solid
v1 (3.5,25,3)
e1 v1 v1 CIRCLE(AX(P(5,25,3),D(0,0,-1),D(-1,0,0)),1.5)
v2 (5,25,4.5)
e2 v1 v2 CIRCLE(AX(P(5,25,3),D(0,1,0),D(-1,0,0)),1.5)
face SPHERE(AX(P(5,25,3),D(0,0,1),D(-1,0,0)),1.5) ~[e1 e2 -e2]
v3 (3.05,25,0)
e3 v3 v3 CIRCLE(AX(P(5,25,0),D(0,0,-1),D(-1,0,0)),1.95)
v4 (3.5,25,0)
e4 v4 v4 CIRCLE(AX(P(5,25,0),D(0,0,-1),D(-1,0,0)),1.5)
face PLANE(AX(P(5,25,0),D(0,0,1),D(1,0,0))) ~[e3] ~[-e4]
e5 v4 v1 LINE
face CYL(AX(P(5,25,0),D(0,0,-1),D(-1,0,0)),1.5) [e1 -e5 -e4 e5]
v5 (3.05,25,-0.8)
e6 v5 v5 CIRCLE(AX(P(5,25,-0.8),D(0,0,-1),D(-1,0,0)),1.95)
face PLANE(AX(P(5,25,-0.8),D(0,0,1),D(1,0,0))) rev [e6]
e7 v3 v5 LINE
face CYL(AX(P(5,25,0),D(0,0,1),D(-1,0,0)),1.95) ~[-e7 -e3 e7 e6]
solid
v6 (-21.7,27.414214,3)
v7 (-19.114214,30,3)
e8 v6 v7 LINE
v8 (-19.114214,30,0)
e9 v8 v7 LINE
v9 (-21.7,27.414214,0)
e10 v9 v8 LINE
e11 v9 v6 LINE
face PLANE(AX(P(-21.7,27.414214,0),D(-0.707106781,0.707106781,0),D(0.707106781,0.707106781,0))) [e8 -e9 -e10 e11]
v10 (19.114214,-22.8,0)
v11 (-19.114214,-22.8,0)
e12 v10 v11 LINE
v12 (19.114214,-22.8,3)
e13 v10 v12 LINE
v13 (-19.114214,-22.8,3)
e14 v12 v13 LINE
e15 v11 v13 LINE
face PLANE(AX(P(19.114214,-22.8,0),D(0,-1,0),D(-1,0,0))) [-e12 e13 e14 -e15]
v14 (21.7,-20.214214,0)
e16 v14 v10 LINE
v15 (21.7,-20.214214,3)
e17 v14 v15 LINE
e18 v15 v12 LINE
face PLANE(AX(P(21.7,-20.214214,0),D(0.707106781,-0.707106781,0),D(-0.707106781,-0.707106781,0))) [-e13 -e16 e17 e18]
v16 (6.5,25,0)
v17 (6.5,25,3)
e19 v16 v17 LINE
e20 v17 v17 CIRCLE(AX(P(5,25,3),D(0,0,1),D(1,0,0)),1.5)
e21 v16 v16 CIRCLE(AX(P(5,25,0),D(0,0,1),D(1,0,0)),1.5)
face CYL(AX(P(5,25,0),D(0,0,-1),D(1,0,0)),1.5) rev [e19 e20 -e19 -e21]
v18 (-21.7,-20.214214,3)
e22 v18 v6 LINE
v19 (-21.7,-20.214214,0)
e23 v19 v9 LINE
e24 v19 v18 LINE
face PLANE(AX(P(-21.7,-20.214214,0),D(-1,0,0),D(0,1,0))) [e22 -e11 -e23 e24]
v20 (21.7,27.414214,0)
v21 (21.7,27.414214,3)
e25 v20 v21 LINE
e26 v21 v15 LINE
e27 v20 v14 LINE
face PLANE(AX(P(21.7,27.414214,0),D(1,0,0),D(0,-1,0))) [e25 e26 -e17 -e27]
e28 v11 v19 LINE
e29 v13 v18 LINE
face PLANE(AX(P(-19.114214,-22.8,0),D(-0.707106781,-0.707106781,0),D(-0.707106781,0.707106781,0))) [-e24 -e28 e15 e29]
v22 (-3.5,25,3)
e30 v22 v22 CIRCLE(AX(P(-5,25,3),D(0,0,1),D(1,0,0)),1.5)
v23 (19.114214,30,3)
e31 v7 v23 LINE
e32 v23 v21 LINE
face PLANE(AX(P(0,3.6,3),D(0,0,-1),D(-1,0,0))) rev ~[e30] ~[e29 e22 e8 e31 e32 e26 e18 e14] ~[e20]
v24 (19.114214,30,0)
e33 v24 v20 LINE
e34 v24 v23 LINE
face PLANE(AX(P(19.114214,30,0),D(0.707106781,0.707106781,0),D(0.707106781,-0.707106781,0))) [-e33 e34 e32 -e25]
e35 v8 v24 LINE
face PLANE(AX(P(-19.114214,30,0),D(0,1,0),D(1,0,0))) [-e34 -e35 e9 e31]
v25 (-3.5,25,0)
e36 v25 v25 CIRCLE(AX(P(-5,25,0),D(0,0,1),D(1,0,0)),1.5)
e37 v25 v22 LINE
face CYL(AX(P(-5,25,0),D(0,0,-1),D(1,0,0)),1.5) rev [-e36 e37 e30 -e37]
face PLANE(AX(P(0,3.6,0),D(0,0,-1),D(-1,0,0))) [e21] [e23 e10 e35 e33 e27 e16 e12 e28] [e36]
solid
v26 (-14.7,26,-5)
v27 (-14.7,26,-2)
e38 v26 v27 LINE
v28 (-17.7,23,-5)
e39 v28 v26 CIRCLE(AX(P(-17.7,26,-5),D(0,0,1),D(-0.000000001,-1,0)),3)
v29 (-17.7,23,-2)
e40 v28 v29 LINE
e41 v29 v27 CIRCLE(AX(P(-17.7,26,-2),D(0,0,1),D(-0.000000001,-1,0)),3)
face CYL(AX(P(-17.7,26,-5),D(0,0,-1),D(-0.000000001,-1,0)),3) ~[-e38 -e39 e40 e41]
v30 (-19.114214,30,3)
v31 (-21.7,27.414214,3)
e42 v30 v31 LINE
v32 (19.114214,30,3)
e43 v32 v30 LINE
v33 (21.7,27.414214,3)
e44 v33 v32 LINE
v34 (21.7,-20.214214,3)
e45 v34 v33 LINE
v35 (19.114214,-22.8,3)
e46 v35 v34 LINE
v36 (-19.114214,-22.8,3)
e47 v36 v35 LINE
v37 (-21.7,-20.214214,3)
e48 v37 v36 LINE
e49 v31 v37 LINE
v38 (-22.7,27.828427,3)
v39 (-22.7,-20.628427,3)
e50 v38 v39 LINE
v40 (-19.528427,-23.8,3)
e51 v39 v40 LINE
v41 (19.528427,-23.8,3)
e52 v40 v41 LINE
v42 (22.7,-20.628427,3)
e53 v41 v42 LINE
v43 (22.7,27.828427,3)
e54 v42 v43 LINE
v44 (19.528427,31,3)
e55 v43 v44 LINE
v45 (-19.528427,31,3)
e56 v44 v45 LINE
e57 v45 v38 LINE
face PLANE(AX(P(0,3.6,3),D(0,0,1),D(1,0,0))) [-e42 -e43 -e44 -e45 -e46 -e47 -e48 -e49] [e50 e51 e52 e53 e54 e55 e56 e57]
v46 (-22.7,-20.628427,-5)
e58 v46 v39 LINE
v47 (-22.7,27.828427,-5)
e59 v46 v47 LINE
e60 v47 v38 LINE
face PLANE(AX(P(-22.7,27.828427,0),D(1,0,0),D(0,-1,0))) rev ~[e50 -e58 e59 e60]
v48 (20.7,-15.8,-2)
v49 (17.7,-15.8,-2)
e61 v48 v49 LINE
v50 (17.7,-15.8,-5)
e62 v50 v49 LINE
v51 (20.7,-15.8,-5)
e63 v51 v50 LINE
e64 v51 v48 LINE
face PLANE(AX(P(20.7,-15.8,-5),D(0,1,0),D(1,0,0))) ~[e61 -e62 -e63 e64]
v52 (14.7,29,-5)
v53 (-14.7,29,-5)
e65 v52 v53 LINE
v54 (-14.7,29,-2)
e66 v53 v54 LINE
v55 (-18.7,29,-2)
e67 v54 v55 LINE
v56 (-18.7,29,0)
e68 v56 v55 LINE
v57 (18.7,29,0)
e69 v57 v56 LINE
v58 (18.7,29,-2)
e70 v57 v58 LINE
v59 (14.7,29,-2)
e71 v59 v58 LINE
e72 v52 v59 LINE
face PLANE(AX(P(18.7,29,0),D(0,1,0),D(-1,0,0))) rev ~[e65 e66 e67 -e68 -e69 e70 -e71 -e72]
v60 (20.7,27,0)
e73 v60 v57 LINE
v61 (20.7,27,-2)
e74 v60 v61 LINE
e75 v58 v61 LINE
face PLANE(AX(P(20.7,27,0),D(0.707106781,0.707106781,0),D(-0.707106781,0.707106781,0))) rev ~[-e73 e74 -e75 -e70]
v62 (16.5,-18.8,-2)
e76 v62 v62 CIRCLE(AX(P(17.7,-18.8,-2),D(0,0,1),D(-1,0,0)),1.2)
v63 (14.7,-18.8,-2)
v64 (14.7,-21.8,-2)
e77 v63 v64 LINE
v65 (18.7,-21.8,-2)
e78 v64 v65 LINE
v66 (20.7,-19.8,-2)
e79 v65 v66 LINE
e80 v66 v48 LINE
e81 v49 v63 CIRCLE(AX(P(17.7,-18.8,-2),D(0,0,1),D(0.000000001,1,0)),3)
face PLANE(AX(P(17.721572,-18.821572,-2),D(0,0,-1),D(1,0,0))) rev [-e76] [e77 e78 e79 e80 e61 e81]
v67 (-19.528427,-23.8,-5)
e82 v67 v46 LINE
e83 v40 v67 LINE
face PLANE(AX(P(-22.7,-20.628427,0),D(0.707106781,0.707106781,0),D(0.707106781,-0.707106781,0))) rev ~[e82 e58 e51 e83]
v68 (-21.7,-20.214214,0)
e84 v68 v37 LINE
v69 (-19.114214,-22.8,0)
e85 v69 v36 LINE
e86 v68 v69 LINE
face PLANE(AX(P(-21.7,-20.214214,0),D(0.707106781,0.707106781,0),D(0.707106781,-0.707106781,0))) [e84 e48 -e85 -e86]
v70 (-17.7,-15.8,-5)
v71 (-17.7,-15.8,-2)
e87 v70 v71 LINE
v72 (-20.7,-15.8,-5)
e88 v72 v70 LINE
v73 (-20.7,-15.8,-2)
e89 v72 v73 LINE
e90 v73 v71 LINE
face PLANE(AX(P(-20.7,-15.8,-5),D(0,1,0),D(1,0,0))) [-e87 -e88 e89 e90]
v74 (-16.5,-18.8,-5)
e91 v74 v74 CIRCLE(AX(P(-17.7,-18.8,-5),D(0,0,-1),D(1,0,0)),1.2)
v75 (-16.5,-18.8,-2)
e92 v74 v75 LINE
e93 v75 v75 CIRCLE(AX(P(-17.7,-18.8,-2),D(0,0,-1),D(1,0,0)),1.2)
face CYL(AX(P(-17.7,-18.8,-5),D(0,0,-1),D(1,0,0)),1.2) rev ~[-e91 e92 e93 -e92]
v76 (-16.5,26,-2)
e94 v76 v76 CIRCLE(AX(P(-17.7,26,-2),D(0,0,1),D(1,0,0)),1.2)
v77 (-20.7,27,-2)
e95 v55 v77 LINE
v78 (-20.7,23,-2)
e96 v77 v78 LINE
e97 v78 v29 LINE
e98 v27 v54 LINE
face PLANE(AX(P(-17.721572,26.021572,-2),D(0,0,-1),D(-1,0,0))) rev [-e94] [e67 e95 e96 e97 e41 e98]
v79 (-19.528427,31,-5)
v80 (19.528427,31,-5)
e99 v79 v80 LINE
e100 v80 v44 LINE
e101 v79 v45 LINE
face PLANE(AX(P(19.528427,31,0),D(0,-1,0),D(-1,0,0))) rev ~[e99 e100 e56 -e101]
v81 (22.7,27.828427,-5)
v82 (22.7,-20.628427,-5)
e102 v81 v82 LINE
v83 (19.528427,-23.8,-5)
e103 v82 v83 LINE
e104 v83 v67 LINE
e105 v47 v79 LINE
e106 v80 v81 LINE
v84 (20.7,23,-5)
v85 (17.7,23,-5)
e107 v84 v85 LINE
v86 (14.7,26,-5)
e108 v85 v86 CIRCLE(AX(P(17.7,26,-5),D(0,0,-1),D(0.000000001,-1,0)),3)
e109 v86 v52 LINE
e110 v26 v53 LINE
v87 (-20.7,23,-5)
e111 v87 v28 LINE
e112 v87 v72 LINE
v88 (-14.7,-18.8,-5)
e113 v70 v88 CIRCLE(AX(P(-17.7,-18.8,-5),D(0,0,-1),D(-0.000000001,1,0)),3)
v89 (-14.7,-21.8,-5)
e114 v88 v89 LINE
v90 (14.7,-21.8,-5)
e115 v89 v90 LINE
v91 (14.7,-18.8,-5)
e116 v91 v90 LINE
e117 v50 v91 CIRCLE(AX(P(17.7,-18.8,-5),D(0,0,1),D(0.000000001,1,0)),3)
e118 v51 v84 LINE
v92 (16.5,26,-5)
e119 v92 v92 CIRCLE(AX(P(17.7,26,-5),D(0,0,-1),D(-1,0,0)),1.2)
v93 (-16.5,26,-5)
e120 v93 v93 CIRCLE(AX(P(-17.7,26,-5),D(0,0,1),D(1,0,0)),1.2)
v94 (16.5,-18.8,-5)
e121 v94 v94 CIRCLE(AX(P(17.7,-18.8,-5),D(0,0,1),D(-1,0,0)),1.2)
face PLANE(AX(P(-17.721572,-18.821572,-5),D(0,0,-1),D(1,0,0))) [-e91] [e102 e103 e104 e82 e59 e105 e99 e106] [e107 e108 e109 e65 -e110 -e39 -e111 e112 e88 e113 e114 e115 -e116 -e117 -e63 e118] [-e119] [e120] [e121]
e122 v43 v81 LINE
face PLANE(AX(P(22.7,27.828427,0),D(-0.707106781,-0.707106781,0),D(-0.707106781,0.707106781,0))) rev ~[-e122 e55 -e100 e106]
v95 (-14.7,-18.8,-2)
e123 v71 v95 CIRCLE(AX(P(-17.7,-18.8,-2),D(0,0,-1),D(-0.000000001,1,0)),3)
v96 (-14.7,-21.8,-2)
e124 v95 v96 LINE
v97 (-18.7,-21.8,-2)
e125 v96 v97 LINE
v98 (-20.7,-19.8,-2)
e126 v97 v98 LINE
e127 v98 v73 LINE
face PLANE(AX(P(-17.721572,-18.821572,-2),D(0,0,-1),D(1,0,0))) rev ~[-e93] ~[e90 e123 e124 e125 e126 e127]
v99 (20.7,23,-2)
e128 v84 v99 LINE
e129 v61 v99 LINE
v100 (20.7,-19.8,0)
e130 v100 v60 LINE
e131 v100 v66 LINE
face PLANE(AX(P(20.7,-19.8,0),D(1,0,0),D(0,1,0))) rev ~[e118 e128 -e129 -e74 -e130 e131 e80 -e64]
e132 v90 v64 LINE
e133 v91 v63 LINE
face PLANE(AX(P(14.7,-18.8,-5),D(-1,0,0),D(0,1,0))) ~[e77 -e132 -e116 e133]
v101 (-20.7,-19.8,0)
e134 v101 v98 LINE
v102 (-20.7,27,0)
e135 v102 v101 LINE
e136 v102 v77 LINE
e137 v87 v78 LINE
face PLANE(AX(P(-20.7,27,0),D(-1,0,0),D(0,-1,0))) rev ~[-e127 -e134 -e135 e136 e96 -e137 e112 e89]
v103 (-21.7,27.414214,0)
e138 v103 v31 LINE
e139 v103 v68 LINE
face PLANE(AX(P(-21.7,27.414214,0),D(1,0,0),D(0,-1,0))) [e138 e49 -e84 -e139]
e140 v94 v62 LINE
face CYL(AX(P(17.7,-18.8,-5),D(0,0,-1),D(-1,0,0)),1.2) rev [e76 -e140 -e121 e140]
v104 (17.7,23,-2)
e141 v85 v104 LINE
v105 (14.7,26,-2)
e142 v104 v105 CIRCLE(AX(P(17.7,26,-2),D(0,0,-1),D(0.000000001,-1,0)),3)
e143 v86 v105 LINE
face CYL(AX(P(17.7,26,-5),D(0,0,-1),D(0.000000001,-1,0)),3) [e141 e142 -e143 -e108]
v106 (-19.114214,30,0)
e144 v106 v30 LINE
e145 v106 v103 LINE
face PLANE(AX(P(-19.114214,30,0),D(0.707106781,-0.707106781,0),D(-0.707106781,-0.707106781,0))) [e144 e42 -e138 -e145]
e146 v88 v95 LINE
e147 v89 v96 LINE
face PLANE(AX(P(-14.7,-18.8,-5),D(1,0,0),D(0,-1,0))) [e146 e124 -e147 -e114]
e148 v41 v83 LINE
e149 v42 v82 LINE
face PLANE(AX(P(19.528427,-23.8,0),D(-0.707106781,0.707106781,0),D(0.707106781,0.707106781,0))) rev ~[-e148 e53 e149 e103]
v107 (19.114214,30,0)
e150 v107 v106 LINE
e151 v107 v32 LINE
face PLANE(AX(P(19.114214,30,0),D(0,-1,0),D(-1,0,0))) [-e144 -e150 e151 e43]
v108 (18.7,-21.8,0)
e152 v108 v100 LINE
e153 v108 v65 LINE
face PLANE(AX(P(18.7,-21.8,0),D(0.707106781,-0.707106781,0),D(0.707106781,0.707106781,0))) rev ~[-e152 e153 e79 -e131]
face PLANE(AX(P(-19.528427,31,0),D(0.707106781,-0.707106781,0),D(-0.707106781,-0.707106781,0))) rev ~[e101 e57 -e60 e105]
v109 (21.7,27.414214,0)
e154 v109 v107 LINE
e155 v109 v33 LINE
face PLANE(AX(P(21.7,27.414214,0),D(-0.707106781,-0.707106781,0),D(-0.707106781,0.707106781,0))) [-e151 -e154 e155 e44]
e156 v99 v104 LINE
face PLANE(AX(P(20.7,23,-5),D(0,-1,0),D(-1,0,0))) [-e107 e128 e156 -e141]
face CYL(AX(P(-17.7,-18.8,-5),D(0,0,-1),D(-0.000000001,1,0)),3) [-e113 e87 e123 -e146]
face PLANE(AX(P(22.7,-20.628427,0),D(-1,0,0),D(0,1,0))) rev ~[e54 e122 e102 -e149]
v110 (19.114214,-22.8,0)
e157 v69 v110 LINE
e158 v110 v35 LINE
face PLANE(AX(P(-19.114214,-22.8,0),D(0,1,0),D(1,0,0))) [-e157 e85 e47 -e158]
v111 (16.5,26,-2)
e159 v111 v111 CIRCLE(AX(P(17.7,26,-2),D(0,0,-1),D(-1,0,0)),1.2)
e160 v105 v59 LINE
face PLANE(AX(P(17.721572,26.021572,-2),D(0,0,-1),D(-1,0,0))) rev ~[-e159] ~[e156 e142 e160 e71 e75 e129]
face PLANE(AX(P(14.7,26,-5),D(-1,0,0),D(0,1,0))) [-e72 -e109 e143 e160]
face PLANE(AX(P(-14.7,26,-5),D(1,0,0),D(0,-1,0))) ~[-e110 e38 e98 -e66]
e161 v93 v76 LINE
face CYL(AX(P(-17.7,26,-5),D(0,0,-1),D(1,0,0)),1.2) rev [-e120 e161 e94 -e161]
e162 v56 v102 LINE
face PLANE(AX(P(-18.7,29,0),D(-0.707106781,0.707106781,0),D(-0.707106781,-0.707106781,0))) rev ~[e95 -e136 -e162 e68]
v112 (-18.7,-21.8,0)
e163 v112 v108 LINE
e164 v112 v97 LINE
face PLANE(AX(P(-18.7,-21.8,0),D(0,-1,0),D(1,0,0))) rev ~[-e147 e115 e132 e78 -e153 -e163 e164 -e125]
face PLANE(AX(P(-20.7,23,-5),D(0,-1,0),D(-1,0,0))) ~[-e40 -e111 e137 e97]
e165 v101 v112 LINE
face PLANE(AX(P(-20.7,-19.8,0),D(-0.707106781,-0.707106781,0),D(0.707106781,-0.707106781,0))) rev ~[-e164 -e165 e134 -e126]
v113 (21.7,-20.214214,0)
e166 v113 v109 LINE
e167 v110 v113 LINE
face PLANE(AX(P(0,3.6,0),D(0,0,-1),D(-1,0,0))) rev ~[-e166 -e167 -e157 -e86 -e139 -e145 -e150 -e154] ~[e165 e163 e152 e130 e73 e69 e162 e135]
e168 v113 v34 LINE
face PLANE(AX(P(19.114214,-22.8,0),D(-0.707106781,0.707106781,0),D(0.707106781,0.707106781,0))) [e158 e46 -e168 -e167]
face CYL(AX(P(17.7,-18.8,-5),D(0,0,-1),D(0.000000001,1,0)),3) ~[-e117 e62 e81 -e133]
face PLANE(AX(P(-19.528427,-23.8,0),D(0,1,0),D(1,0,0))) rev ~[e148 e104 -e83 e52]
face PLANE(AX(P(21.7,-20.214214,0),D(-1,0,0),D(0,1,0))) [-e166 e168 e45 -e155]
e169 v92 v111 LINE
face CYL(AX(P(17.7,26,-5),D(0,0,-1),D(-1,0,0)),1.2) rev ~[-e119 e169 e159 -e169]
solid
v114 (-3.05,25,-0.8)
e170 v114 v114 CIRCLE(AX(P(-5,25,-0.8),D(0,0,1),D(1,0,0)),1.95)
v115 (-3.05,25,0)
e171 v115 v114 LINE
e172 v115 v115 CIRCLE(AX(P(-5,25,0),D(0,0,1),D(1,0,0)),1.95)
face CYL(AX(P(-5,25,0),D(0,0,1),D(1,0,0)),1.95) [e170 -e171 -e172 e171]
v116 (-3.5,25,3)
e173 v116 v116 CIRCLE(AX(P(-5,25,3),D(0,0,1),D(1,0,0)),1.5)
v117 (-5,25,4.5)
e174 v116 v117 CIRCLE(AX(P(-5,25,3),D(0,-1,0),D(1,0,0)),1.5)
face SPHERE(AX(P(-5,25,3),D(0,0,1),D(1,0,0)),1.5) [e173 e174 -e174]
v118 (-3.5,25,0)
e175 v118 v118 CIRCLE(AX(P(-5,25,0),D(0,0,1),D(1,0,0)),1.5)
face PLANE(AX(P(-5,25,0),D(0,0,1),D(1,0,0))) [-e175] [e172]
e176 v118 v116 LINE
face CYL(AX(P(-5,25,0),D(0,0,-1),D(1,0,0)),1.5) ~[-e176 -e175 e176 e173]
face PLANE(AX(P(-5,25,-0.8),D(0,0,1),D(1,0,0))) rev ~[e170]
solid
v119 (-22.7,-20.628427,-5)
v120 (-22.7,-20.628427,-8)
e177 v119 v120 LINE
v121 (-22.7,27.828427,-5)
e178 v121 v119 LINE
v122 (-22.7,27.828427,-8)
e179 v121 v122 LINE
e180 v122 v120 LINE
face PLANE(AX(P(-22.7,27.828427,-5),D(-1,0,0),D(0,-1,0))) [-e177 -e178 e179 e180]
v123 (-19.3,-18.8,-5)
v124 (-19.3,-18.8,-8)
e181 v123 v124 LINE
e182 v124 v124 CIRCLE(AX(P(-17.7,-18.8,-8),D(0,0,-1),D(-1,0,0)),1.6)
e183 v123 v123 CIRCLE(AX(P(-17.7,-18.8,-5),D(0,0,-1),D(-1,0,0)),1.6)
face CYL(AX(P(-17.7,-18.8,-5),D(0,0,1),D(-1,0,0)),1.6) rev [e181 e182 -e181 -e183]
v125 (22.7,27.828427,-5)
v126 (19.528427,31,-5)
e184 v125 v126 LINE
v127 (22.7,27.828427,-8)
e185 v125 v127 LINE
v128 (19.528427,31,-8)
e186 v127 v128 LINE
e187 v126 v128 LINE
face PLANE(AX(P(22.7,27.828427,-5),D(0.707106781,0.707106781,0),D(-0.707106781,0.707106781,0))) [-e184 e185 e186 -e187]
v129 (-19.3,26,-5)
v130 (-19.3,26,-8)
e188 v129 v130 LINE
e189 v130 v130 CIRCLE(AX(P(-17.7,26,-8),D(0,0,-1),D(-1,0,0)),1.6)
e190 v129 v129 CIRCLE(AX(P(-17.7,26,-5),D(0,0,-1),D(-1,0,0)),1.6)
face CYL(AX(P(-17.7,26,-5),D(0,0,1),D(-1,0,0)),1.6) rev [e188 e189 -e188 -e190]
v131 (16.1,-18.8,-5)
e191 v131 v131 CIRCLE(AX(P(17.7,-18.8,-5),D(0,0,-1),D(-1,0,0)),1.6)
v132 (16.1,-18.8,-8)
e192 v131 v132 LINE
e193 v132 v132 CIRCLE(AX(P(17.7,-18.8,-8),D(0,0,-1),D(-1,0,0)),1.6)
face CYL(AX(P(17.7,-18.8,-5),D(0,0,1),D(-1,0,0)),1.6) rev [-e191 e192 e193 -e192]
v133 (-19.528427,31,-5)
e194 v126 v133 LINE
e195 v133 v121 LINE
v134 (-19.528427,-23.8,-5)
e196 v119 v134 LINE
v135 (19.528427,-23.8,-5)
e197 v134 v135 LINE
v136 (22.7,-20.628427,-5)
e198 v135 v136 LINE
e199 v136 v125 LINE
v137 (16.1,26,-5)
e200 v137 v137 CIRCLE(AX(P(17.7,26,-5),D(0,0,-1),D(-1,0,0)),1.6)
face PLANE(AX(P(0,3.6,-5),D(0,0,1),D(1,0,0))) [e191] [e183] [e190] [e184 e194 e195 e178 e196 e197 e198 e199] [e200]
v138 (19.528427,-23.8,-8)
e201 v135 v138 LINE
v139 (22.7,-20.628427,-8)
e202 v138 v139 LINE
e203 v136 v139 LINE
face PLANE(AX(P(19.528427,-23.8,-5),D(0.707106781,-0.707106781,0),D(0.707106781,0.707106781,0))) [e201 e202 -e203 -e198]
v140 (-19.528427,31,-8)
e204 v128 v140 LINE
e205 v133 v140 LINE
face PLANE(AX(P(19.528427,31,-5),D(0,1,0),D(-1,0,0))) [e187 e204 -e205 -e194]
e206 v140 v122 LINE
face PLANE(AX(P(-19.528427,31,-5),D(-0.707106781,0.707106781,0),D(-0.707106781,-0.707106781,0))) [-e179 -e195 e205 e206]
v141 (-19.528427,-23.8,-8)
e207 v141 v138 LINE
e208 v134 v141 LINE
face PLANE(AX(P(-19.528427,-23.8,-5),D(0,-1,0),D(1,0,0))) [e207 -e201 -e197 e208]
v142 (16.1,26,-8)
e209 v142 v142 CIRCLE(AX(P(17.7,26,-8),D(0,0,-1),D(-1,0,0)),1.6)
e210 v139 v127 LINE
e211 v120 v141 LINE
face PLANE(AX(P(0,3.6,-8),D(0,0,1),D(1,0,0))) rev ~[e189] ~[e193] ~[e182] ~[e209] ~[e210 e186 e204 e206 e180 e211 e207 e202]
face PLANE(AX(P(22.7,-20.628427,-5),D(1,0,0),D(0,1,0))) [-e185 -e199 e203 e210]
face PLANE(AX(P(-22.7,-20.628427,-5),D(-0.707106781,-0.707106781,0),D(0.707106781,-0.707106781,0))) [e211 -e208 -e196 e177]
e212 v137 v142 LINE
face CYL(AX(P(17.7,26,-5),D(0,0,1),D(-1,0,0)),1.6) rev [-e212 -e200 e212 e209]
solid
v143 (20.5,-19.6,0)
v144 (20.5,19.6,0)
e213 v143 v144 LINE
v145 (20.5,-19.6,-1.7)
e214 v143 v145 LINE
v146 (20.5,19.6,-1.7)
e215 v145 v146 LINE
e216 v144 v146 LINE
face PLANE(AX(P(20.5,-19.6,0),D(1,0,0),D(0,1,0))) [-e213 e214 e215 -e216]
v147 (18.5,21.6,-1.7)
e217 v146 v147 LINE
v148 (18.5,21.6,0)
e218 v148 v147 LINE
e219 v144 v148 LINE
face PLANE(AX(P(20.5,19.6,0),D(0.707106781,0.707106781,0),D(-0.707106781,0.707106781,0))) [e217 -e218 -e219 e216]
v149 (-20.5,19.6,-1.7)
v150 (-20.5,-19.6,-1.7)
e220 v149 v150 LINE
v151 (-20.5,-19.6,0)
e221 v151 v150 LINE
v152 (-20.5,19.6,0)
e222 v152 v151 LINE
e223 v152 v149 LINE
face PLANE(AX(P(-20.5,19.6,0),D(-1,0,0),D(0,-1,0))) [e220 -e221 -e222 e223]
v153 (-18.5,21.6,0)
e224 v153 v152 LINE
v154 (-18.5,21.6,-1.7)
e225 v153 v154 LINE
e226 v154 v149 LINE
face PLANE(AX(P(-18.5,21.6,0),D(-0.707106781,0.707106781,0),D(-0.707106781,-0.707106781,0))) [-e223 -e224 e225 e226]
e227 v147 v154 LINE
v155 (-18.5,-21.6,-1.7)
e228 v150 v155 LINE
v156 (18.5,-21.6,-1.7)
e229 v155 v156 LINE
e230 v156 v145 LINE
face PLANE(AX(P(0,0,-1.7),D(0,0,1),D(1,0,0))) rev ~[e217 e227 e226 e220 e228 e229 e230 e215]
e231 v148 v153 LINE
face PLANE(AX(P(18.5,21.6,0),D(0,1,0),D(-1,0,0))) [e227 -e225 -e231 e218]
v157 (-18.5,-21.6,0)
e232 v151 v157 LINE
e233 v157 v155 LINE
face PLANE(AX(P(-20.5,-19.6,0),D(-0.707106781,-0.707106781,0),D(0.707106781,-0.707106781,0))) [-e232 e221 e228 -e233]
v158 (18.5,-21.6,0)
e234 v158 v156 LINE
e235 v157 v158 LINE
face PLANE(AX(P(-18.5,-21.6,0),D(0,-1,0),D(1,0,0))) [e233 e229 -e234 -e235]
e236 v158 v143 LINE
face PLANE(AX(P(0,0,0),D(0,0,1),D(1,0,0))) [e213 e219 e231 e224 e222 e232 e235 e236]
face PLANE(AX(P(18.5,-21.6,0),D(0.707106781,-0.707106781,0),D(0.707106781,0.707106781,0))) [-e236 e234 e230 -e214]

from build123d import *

# Parameters (mm, degrees)
BOSS_EXTRUDE1_DEPTH     = 1.7
SKETCH2_R               = 1.95
BOSS_EXTRUDE2_DEPTH     = 0.8
SKETCH4_R               = 1.5
BOSS_EXTRUDE3_DEPTH     = 4.5
FILLET1_R               = 1.5
BOSS_EXTRUDE4_DEPTH     = 5
BOSS_EXTRUDE5_DEPTH     = 3
SKETCH8_R               = 1.2
BOSS_EXTRUDE6_DEPTH     = 3
MIRROR2_COPY_1_SKETCH_R = 1.2
MIRROR2_COPY_1_DEPTH    = 3
SKETCH9_R               = 1.5
FRONT_DEPTH             = 3
SKETCH10_R              = 1.6
BACK_DEPTH              = 3


with BuildPart() as part:
    # Sketch1 → Boss-Extrude1 (new body)
    with BuildSketch(Plane.XY):
        Polygon((-18.5, 21.6), (-20.5, 19.6), (-20.5, -19.6), (-18.5, -21.6), (18.5, -21.6), (20.5, -19.6), (20.5, 19.6), (18.5, 21.6), align=None)
    extrude(amount=-BOSS_EXTRUDE1_DEPTH)


with BuildPart() as body_2:
    # Sketch2 → Boss-Extrude2 (new body)
    with BuildSketch(Plane.XY):
        with Locations((-5, 25)):
            Circle(SKETCH2_R)
    extrude(amount=-BOSS_EXTRUDE2_DEPTH)

    # Sketch4 → Boss-Extrude3 (add)
    with BuildSketch(Plane.XY):
        with Locations((-5, 25)):
            Circle(SKETCH4_R)
    extrude(amount=BOSS_EXTRUDE3_DEPTH)

    # Fillet1
    fillet1_edges = [body_2.edges().sort_by_distance(p)[0] for p in [
        (-6.5, 25, 4.5),
    ]]
    fillet(fillet1_edges, radius=FILLET1_R)


with BuildPart() as body_3:
    # LED green: mirrored copy
    add(body_2.part.mirror(Plane(origin=(0, 0, 0), x_dir=(0, 0, 1), z_dir=(1, 0, 0))))


with BuildPart() as body_4:
    # Sketch6 → Boss-Extrude4 (new body)
    with BuildSketch(Plane.XY):
        Polygon((-19.528427125, 31), (19.528427125, 31), (22.7, 27.828427125), (22.7, -20.628427125), (19.528427125, -23.8), (-19.528427125, -23.8), (-22.7, -20.628427125), (-22.7, 27.828427125), align=None)
        Polygon((-18.7, -21.8), (18.7, -21.8), (20.7, -19.8), (20.7, 27), (18.7, 29), (-18.7, 29), (-20.7, 27), (-20.7, -19.8), align=None, mode=Mode.SUBTRACT)
    extrude(amount=-BOSS_EXTRUDE4_DEPTH)

    # Sketch7 → Boss-Extrude5 (add)
    with BuildSketch(Plane.XY):
        Polygon((22.7, 27.828427125), (19.528427125, 31), (-19.528427125, 31), (-22.7, 27.828427125), (-22.7, -20.628427125), (-19.528427125, -23.8), (19.528427125, -23.8), (22.7, -20.628427125), align=None)
        Polygon((21.7, 27.414213562), (19.114213562, 30), (-19.114213562, 30), (-21.7, 27.414213562), (-21.7, -20.214213562), (-19.114213562, -22.8), (19.114213562, -22.8), (21.7, -20.214213562), align=None, mode=Mode.SUBTRACT)
    extrude(amount=BOSS_EXTRUDE5_DEPTH)

    # Sketch8 → Boss-Extrude6 (add)
    with BuildSketch(Plane(origin=(0, 0, -5), x_dir=(-1, 0, 0), z_dir=(0, 0, -1))):
        with BuildLine():
            Line((-14.7, 29), (-18.7, 29))
            Line((-18.7, 29), (-20.7, 27))
            Line((-20.7, 27), (-20.7, 23))
            Line((-20.7, 23), (-17.7, 23))
            ThreePointArc((-17.7, 23), (-15.578679656, 23.878679656), (-14.7, 26))
            Line((-14.7, 26), (-14.7, 29))
        make_face()
        with Locations((-17.7, 26)):
            Circle(SKETCH8_R, mode=Mode.SUBTRACT)
    boss_extrude6 = extrude(amount=-BOSS_EXTRUDE6_DEPTH)

    # Mirror1: Boss-Extrude6 across plane
    add(boss_extrude6.mirror(Plane(origin=(0, 0, 0), x_dir=(0, 0, 1), z_dir=(1, 0, 0))))

    # Mirror2: Boss-Extrude6 across plane
    add(boss_extrude6.mirror(Plane.ZX.offset(3.6)))

    # Mirror2 copy 1 sketch → Mirror2 copy 1 (add)
    with BuildSketch(Plane(origin=(0, 7.2, -5), x_dir=(1, 0, 0), z_dir=(0, 0, -1))):
        with BuildLine():
            Line((-14.7, 29), (-18.7, 29))
            Line((-18.7, 29), (-20.7, 27))
            Line((-20.7, 27), (-20.7, 23))
            Line((-20.7, 23), (-17.7, 23))
            ThreePointArc((-17.7, 23), (-15.578679656, 23.878679656), (-14.7, 26))
            Line((-14.7, 26), (-14.7, 29))
        make_face()
        with Locations((-17.7, 26)):
            Circle(MIRROR2_COPY_1_SKETCH_R, mode=Mode.SUBTRACT)
    extrude(amount=-MIRROR2_COPY_1_DEPTH)


with BuildPart() as body_5:
    # Sketch9 → Front (new body)
    with BuildSketch(Plane.XY):
        Polygon((-21.7, 27.414213562), (-19.114213562, 30), (19.114213562, 30), (21.7, 27.414213562), (21.7, -20.214213562), (19.114213562, -22.8), (-19.114213562, -22.8), (-21.7, -20.214213562), align=None)
        with Locations((-5, 25)):
            Circle(SKETCH9_R, mode=Mode.SUBTRACT)
        with Locations((5, 25)):
            Circle(SKETCH9_R, mode=Mode.SUBTRACT)
    extrude(amount=FRONT_DEPTH)


with BuildPart() as body_6:
    # Sketch10 → Back (new body)
    with BuildSketch(Plane(origin=(0, 0, -5), x_dir=(-1, 0, 0), z_dir=(0, 0, -1))):
        Polygon((-22.7, 27.828427125), (-19.528427125, 31), (19.528427125, 31), (22.7, 27.828427125), (22.7, -20.628427125), (19.528427125, -23.8), (-19.528427125, -23.8), (-22.7, -20.628427125), align=None)
        with Locations((-17.7, 26)):
            Circle(SKETCH10_R, mode=Mode.SUBTRACT)
        with Locations((17.7, 26)):
            Circle(SKETCH10_R, mode=Mode.SUBTRACT)
        with Locations((17.7, -18.8)):
            Circle(SKETCH10_R, mode=Mode.SUBTRACT)
        with Locations((-17.7, -18.8)):
            Circle(SKETCH10_R, mode=Mode.SUBTRACT)
    extrude(amount=BACK_DEPTH)


solid = Compound([part.part, body_2.part, body_3.part, body_4.part, body_5.part, body_6.part])
